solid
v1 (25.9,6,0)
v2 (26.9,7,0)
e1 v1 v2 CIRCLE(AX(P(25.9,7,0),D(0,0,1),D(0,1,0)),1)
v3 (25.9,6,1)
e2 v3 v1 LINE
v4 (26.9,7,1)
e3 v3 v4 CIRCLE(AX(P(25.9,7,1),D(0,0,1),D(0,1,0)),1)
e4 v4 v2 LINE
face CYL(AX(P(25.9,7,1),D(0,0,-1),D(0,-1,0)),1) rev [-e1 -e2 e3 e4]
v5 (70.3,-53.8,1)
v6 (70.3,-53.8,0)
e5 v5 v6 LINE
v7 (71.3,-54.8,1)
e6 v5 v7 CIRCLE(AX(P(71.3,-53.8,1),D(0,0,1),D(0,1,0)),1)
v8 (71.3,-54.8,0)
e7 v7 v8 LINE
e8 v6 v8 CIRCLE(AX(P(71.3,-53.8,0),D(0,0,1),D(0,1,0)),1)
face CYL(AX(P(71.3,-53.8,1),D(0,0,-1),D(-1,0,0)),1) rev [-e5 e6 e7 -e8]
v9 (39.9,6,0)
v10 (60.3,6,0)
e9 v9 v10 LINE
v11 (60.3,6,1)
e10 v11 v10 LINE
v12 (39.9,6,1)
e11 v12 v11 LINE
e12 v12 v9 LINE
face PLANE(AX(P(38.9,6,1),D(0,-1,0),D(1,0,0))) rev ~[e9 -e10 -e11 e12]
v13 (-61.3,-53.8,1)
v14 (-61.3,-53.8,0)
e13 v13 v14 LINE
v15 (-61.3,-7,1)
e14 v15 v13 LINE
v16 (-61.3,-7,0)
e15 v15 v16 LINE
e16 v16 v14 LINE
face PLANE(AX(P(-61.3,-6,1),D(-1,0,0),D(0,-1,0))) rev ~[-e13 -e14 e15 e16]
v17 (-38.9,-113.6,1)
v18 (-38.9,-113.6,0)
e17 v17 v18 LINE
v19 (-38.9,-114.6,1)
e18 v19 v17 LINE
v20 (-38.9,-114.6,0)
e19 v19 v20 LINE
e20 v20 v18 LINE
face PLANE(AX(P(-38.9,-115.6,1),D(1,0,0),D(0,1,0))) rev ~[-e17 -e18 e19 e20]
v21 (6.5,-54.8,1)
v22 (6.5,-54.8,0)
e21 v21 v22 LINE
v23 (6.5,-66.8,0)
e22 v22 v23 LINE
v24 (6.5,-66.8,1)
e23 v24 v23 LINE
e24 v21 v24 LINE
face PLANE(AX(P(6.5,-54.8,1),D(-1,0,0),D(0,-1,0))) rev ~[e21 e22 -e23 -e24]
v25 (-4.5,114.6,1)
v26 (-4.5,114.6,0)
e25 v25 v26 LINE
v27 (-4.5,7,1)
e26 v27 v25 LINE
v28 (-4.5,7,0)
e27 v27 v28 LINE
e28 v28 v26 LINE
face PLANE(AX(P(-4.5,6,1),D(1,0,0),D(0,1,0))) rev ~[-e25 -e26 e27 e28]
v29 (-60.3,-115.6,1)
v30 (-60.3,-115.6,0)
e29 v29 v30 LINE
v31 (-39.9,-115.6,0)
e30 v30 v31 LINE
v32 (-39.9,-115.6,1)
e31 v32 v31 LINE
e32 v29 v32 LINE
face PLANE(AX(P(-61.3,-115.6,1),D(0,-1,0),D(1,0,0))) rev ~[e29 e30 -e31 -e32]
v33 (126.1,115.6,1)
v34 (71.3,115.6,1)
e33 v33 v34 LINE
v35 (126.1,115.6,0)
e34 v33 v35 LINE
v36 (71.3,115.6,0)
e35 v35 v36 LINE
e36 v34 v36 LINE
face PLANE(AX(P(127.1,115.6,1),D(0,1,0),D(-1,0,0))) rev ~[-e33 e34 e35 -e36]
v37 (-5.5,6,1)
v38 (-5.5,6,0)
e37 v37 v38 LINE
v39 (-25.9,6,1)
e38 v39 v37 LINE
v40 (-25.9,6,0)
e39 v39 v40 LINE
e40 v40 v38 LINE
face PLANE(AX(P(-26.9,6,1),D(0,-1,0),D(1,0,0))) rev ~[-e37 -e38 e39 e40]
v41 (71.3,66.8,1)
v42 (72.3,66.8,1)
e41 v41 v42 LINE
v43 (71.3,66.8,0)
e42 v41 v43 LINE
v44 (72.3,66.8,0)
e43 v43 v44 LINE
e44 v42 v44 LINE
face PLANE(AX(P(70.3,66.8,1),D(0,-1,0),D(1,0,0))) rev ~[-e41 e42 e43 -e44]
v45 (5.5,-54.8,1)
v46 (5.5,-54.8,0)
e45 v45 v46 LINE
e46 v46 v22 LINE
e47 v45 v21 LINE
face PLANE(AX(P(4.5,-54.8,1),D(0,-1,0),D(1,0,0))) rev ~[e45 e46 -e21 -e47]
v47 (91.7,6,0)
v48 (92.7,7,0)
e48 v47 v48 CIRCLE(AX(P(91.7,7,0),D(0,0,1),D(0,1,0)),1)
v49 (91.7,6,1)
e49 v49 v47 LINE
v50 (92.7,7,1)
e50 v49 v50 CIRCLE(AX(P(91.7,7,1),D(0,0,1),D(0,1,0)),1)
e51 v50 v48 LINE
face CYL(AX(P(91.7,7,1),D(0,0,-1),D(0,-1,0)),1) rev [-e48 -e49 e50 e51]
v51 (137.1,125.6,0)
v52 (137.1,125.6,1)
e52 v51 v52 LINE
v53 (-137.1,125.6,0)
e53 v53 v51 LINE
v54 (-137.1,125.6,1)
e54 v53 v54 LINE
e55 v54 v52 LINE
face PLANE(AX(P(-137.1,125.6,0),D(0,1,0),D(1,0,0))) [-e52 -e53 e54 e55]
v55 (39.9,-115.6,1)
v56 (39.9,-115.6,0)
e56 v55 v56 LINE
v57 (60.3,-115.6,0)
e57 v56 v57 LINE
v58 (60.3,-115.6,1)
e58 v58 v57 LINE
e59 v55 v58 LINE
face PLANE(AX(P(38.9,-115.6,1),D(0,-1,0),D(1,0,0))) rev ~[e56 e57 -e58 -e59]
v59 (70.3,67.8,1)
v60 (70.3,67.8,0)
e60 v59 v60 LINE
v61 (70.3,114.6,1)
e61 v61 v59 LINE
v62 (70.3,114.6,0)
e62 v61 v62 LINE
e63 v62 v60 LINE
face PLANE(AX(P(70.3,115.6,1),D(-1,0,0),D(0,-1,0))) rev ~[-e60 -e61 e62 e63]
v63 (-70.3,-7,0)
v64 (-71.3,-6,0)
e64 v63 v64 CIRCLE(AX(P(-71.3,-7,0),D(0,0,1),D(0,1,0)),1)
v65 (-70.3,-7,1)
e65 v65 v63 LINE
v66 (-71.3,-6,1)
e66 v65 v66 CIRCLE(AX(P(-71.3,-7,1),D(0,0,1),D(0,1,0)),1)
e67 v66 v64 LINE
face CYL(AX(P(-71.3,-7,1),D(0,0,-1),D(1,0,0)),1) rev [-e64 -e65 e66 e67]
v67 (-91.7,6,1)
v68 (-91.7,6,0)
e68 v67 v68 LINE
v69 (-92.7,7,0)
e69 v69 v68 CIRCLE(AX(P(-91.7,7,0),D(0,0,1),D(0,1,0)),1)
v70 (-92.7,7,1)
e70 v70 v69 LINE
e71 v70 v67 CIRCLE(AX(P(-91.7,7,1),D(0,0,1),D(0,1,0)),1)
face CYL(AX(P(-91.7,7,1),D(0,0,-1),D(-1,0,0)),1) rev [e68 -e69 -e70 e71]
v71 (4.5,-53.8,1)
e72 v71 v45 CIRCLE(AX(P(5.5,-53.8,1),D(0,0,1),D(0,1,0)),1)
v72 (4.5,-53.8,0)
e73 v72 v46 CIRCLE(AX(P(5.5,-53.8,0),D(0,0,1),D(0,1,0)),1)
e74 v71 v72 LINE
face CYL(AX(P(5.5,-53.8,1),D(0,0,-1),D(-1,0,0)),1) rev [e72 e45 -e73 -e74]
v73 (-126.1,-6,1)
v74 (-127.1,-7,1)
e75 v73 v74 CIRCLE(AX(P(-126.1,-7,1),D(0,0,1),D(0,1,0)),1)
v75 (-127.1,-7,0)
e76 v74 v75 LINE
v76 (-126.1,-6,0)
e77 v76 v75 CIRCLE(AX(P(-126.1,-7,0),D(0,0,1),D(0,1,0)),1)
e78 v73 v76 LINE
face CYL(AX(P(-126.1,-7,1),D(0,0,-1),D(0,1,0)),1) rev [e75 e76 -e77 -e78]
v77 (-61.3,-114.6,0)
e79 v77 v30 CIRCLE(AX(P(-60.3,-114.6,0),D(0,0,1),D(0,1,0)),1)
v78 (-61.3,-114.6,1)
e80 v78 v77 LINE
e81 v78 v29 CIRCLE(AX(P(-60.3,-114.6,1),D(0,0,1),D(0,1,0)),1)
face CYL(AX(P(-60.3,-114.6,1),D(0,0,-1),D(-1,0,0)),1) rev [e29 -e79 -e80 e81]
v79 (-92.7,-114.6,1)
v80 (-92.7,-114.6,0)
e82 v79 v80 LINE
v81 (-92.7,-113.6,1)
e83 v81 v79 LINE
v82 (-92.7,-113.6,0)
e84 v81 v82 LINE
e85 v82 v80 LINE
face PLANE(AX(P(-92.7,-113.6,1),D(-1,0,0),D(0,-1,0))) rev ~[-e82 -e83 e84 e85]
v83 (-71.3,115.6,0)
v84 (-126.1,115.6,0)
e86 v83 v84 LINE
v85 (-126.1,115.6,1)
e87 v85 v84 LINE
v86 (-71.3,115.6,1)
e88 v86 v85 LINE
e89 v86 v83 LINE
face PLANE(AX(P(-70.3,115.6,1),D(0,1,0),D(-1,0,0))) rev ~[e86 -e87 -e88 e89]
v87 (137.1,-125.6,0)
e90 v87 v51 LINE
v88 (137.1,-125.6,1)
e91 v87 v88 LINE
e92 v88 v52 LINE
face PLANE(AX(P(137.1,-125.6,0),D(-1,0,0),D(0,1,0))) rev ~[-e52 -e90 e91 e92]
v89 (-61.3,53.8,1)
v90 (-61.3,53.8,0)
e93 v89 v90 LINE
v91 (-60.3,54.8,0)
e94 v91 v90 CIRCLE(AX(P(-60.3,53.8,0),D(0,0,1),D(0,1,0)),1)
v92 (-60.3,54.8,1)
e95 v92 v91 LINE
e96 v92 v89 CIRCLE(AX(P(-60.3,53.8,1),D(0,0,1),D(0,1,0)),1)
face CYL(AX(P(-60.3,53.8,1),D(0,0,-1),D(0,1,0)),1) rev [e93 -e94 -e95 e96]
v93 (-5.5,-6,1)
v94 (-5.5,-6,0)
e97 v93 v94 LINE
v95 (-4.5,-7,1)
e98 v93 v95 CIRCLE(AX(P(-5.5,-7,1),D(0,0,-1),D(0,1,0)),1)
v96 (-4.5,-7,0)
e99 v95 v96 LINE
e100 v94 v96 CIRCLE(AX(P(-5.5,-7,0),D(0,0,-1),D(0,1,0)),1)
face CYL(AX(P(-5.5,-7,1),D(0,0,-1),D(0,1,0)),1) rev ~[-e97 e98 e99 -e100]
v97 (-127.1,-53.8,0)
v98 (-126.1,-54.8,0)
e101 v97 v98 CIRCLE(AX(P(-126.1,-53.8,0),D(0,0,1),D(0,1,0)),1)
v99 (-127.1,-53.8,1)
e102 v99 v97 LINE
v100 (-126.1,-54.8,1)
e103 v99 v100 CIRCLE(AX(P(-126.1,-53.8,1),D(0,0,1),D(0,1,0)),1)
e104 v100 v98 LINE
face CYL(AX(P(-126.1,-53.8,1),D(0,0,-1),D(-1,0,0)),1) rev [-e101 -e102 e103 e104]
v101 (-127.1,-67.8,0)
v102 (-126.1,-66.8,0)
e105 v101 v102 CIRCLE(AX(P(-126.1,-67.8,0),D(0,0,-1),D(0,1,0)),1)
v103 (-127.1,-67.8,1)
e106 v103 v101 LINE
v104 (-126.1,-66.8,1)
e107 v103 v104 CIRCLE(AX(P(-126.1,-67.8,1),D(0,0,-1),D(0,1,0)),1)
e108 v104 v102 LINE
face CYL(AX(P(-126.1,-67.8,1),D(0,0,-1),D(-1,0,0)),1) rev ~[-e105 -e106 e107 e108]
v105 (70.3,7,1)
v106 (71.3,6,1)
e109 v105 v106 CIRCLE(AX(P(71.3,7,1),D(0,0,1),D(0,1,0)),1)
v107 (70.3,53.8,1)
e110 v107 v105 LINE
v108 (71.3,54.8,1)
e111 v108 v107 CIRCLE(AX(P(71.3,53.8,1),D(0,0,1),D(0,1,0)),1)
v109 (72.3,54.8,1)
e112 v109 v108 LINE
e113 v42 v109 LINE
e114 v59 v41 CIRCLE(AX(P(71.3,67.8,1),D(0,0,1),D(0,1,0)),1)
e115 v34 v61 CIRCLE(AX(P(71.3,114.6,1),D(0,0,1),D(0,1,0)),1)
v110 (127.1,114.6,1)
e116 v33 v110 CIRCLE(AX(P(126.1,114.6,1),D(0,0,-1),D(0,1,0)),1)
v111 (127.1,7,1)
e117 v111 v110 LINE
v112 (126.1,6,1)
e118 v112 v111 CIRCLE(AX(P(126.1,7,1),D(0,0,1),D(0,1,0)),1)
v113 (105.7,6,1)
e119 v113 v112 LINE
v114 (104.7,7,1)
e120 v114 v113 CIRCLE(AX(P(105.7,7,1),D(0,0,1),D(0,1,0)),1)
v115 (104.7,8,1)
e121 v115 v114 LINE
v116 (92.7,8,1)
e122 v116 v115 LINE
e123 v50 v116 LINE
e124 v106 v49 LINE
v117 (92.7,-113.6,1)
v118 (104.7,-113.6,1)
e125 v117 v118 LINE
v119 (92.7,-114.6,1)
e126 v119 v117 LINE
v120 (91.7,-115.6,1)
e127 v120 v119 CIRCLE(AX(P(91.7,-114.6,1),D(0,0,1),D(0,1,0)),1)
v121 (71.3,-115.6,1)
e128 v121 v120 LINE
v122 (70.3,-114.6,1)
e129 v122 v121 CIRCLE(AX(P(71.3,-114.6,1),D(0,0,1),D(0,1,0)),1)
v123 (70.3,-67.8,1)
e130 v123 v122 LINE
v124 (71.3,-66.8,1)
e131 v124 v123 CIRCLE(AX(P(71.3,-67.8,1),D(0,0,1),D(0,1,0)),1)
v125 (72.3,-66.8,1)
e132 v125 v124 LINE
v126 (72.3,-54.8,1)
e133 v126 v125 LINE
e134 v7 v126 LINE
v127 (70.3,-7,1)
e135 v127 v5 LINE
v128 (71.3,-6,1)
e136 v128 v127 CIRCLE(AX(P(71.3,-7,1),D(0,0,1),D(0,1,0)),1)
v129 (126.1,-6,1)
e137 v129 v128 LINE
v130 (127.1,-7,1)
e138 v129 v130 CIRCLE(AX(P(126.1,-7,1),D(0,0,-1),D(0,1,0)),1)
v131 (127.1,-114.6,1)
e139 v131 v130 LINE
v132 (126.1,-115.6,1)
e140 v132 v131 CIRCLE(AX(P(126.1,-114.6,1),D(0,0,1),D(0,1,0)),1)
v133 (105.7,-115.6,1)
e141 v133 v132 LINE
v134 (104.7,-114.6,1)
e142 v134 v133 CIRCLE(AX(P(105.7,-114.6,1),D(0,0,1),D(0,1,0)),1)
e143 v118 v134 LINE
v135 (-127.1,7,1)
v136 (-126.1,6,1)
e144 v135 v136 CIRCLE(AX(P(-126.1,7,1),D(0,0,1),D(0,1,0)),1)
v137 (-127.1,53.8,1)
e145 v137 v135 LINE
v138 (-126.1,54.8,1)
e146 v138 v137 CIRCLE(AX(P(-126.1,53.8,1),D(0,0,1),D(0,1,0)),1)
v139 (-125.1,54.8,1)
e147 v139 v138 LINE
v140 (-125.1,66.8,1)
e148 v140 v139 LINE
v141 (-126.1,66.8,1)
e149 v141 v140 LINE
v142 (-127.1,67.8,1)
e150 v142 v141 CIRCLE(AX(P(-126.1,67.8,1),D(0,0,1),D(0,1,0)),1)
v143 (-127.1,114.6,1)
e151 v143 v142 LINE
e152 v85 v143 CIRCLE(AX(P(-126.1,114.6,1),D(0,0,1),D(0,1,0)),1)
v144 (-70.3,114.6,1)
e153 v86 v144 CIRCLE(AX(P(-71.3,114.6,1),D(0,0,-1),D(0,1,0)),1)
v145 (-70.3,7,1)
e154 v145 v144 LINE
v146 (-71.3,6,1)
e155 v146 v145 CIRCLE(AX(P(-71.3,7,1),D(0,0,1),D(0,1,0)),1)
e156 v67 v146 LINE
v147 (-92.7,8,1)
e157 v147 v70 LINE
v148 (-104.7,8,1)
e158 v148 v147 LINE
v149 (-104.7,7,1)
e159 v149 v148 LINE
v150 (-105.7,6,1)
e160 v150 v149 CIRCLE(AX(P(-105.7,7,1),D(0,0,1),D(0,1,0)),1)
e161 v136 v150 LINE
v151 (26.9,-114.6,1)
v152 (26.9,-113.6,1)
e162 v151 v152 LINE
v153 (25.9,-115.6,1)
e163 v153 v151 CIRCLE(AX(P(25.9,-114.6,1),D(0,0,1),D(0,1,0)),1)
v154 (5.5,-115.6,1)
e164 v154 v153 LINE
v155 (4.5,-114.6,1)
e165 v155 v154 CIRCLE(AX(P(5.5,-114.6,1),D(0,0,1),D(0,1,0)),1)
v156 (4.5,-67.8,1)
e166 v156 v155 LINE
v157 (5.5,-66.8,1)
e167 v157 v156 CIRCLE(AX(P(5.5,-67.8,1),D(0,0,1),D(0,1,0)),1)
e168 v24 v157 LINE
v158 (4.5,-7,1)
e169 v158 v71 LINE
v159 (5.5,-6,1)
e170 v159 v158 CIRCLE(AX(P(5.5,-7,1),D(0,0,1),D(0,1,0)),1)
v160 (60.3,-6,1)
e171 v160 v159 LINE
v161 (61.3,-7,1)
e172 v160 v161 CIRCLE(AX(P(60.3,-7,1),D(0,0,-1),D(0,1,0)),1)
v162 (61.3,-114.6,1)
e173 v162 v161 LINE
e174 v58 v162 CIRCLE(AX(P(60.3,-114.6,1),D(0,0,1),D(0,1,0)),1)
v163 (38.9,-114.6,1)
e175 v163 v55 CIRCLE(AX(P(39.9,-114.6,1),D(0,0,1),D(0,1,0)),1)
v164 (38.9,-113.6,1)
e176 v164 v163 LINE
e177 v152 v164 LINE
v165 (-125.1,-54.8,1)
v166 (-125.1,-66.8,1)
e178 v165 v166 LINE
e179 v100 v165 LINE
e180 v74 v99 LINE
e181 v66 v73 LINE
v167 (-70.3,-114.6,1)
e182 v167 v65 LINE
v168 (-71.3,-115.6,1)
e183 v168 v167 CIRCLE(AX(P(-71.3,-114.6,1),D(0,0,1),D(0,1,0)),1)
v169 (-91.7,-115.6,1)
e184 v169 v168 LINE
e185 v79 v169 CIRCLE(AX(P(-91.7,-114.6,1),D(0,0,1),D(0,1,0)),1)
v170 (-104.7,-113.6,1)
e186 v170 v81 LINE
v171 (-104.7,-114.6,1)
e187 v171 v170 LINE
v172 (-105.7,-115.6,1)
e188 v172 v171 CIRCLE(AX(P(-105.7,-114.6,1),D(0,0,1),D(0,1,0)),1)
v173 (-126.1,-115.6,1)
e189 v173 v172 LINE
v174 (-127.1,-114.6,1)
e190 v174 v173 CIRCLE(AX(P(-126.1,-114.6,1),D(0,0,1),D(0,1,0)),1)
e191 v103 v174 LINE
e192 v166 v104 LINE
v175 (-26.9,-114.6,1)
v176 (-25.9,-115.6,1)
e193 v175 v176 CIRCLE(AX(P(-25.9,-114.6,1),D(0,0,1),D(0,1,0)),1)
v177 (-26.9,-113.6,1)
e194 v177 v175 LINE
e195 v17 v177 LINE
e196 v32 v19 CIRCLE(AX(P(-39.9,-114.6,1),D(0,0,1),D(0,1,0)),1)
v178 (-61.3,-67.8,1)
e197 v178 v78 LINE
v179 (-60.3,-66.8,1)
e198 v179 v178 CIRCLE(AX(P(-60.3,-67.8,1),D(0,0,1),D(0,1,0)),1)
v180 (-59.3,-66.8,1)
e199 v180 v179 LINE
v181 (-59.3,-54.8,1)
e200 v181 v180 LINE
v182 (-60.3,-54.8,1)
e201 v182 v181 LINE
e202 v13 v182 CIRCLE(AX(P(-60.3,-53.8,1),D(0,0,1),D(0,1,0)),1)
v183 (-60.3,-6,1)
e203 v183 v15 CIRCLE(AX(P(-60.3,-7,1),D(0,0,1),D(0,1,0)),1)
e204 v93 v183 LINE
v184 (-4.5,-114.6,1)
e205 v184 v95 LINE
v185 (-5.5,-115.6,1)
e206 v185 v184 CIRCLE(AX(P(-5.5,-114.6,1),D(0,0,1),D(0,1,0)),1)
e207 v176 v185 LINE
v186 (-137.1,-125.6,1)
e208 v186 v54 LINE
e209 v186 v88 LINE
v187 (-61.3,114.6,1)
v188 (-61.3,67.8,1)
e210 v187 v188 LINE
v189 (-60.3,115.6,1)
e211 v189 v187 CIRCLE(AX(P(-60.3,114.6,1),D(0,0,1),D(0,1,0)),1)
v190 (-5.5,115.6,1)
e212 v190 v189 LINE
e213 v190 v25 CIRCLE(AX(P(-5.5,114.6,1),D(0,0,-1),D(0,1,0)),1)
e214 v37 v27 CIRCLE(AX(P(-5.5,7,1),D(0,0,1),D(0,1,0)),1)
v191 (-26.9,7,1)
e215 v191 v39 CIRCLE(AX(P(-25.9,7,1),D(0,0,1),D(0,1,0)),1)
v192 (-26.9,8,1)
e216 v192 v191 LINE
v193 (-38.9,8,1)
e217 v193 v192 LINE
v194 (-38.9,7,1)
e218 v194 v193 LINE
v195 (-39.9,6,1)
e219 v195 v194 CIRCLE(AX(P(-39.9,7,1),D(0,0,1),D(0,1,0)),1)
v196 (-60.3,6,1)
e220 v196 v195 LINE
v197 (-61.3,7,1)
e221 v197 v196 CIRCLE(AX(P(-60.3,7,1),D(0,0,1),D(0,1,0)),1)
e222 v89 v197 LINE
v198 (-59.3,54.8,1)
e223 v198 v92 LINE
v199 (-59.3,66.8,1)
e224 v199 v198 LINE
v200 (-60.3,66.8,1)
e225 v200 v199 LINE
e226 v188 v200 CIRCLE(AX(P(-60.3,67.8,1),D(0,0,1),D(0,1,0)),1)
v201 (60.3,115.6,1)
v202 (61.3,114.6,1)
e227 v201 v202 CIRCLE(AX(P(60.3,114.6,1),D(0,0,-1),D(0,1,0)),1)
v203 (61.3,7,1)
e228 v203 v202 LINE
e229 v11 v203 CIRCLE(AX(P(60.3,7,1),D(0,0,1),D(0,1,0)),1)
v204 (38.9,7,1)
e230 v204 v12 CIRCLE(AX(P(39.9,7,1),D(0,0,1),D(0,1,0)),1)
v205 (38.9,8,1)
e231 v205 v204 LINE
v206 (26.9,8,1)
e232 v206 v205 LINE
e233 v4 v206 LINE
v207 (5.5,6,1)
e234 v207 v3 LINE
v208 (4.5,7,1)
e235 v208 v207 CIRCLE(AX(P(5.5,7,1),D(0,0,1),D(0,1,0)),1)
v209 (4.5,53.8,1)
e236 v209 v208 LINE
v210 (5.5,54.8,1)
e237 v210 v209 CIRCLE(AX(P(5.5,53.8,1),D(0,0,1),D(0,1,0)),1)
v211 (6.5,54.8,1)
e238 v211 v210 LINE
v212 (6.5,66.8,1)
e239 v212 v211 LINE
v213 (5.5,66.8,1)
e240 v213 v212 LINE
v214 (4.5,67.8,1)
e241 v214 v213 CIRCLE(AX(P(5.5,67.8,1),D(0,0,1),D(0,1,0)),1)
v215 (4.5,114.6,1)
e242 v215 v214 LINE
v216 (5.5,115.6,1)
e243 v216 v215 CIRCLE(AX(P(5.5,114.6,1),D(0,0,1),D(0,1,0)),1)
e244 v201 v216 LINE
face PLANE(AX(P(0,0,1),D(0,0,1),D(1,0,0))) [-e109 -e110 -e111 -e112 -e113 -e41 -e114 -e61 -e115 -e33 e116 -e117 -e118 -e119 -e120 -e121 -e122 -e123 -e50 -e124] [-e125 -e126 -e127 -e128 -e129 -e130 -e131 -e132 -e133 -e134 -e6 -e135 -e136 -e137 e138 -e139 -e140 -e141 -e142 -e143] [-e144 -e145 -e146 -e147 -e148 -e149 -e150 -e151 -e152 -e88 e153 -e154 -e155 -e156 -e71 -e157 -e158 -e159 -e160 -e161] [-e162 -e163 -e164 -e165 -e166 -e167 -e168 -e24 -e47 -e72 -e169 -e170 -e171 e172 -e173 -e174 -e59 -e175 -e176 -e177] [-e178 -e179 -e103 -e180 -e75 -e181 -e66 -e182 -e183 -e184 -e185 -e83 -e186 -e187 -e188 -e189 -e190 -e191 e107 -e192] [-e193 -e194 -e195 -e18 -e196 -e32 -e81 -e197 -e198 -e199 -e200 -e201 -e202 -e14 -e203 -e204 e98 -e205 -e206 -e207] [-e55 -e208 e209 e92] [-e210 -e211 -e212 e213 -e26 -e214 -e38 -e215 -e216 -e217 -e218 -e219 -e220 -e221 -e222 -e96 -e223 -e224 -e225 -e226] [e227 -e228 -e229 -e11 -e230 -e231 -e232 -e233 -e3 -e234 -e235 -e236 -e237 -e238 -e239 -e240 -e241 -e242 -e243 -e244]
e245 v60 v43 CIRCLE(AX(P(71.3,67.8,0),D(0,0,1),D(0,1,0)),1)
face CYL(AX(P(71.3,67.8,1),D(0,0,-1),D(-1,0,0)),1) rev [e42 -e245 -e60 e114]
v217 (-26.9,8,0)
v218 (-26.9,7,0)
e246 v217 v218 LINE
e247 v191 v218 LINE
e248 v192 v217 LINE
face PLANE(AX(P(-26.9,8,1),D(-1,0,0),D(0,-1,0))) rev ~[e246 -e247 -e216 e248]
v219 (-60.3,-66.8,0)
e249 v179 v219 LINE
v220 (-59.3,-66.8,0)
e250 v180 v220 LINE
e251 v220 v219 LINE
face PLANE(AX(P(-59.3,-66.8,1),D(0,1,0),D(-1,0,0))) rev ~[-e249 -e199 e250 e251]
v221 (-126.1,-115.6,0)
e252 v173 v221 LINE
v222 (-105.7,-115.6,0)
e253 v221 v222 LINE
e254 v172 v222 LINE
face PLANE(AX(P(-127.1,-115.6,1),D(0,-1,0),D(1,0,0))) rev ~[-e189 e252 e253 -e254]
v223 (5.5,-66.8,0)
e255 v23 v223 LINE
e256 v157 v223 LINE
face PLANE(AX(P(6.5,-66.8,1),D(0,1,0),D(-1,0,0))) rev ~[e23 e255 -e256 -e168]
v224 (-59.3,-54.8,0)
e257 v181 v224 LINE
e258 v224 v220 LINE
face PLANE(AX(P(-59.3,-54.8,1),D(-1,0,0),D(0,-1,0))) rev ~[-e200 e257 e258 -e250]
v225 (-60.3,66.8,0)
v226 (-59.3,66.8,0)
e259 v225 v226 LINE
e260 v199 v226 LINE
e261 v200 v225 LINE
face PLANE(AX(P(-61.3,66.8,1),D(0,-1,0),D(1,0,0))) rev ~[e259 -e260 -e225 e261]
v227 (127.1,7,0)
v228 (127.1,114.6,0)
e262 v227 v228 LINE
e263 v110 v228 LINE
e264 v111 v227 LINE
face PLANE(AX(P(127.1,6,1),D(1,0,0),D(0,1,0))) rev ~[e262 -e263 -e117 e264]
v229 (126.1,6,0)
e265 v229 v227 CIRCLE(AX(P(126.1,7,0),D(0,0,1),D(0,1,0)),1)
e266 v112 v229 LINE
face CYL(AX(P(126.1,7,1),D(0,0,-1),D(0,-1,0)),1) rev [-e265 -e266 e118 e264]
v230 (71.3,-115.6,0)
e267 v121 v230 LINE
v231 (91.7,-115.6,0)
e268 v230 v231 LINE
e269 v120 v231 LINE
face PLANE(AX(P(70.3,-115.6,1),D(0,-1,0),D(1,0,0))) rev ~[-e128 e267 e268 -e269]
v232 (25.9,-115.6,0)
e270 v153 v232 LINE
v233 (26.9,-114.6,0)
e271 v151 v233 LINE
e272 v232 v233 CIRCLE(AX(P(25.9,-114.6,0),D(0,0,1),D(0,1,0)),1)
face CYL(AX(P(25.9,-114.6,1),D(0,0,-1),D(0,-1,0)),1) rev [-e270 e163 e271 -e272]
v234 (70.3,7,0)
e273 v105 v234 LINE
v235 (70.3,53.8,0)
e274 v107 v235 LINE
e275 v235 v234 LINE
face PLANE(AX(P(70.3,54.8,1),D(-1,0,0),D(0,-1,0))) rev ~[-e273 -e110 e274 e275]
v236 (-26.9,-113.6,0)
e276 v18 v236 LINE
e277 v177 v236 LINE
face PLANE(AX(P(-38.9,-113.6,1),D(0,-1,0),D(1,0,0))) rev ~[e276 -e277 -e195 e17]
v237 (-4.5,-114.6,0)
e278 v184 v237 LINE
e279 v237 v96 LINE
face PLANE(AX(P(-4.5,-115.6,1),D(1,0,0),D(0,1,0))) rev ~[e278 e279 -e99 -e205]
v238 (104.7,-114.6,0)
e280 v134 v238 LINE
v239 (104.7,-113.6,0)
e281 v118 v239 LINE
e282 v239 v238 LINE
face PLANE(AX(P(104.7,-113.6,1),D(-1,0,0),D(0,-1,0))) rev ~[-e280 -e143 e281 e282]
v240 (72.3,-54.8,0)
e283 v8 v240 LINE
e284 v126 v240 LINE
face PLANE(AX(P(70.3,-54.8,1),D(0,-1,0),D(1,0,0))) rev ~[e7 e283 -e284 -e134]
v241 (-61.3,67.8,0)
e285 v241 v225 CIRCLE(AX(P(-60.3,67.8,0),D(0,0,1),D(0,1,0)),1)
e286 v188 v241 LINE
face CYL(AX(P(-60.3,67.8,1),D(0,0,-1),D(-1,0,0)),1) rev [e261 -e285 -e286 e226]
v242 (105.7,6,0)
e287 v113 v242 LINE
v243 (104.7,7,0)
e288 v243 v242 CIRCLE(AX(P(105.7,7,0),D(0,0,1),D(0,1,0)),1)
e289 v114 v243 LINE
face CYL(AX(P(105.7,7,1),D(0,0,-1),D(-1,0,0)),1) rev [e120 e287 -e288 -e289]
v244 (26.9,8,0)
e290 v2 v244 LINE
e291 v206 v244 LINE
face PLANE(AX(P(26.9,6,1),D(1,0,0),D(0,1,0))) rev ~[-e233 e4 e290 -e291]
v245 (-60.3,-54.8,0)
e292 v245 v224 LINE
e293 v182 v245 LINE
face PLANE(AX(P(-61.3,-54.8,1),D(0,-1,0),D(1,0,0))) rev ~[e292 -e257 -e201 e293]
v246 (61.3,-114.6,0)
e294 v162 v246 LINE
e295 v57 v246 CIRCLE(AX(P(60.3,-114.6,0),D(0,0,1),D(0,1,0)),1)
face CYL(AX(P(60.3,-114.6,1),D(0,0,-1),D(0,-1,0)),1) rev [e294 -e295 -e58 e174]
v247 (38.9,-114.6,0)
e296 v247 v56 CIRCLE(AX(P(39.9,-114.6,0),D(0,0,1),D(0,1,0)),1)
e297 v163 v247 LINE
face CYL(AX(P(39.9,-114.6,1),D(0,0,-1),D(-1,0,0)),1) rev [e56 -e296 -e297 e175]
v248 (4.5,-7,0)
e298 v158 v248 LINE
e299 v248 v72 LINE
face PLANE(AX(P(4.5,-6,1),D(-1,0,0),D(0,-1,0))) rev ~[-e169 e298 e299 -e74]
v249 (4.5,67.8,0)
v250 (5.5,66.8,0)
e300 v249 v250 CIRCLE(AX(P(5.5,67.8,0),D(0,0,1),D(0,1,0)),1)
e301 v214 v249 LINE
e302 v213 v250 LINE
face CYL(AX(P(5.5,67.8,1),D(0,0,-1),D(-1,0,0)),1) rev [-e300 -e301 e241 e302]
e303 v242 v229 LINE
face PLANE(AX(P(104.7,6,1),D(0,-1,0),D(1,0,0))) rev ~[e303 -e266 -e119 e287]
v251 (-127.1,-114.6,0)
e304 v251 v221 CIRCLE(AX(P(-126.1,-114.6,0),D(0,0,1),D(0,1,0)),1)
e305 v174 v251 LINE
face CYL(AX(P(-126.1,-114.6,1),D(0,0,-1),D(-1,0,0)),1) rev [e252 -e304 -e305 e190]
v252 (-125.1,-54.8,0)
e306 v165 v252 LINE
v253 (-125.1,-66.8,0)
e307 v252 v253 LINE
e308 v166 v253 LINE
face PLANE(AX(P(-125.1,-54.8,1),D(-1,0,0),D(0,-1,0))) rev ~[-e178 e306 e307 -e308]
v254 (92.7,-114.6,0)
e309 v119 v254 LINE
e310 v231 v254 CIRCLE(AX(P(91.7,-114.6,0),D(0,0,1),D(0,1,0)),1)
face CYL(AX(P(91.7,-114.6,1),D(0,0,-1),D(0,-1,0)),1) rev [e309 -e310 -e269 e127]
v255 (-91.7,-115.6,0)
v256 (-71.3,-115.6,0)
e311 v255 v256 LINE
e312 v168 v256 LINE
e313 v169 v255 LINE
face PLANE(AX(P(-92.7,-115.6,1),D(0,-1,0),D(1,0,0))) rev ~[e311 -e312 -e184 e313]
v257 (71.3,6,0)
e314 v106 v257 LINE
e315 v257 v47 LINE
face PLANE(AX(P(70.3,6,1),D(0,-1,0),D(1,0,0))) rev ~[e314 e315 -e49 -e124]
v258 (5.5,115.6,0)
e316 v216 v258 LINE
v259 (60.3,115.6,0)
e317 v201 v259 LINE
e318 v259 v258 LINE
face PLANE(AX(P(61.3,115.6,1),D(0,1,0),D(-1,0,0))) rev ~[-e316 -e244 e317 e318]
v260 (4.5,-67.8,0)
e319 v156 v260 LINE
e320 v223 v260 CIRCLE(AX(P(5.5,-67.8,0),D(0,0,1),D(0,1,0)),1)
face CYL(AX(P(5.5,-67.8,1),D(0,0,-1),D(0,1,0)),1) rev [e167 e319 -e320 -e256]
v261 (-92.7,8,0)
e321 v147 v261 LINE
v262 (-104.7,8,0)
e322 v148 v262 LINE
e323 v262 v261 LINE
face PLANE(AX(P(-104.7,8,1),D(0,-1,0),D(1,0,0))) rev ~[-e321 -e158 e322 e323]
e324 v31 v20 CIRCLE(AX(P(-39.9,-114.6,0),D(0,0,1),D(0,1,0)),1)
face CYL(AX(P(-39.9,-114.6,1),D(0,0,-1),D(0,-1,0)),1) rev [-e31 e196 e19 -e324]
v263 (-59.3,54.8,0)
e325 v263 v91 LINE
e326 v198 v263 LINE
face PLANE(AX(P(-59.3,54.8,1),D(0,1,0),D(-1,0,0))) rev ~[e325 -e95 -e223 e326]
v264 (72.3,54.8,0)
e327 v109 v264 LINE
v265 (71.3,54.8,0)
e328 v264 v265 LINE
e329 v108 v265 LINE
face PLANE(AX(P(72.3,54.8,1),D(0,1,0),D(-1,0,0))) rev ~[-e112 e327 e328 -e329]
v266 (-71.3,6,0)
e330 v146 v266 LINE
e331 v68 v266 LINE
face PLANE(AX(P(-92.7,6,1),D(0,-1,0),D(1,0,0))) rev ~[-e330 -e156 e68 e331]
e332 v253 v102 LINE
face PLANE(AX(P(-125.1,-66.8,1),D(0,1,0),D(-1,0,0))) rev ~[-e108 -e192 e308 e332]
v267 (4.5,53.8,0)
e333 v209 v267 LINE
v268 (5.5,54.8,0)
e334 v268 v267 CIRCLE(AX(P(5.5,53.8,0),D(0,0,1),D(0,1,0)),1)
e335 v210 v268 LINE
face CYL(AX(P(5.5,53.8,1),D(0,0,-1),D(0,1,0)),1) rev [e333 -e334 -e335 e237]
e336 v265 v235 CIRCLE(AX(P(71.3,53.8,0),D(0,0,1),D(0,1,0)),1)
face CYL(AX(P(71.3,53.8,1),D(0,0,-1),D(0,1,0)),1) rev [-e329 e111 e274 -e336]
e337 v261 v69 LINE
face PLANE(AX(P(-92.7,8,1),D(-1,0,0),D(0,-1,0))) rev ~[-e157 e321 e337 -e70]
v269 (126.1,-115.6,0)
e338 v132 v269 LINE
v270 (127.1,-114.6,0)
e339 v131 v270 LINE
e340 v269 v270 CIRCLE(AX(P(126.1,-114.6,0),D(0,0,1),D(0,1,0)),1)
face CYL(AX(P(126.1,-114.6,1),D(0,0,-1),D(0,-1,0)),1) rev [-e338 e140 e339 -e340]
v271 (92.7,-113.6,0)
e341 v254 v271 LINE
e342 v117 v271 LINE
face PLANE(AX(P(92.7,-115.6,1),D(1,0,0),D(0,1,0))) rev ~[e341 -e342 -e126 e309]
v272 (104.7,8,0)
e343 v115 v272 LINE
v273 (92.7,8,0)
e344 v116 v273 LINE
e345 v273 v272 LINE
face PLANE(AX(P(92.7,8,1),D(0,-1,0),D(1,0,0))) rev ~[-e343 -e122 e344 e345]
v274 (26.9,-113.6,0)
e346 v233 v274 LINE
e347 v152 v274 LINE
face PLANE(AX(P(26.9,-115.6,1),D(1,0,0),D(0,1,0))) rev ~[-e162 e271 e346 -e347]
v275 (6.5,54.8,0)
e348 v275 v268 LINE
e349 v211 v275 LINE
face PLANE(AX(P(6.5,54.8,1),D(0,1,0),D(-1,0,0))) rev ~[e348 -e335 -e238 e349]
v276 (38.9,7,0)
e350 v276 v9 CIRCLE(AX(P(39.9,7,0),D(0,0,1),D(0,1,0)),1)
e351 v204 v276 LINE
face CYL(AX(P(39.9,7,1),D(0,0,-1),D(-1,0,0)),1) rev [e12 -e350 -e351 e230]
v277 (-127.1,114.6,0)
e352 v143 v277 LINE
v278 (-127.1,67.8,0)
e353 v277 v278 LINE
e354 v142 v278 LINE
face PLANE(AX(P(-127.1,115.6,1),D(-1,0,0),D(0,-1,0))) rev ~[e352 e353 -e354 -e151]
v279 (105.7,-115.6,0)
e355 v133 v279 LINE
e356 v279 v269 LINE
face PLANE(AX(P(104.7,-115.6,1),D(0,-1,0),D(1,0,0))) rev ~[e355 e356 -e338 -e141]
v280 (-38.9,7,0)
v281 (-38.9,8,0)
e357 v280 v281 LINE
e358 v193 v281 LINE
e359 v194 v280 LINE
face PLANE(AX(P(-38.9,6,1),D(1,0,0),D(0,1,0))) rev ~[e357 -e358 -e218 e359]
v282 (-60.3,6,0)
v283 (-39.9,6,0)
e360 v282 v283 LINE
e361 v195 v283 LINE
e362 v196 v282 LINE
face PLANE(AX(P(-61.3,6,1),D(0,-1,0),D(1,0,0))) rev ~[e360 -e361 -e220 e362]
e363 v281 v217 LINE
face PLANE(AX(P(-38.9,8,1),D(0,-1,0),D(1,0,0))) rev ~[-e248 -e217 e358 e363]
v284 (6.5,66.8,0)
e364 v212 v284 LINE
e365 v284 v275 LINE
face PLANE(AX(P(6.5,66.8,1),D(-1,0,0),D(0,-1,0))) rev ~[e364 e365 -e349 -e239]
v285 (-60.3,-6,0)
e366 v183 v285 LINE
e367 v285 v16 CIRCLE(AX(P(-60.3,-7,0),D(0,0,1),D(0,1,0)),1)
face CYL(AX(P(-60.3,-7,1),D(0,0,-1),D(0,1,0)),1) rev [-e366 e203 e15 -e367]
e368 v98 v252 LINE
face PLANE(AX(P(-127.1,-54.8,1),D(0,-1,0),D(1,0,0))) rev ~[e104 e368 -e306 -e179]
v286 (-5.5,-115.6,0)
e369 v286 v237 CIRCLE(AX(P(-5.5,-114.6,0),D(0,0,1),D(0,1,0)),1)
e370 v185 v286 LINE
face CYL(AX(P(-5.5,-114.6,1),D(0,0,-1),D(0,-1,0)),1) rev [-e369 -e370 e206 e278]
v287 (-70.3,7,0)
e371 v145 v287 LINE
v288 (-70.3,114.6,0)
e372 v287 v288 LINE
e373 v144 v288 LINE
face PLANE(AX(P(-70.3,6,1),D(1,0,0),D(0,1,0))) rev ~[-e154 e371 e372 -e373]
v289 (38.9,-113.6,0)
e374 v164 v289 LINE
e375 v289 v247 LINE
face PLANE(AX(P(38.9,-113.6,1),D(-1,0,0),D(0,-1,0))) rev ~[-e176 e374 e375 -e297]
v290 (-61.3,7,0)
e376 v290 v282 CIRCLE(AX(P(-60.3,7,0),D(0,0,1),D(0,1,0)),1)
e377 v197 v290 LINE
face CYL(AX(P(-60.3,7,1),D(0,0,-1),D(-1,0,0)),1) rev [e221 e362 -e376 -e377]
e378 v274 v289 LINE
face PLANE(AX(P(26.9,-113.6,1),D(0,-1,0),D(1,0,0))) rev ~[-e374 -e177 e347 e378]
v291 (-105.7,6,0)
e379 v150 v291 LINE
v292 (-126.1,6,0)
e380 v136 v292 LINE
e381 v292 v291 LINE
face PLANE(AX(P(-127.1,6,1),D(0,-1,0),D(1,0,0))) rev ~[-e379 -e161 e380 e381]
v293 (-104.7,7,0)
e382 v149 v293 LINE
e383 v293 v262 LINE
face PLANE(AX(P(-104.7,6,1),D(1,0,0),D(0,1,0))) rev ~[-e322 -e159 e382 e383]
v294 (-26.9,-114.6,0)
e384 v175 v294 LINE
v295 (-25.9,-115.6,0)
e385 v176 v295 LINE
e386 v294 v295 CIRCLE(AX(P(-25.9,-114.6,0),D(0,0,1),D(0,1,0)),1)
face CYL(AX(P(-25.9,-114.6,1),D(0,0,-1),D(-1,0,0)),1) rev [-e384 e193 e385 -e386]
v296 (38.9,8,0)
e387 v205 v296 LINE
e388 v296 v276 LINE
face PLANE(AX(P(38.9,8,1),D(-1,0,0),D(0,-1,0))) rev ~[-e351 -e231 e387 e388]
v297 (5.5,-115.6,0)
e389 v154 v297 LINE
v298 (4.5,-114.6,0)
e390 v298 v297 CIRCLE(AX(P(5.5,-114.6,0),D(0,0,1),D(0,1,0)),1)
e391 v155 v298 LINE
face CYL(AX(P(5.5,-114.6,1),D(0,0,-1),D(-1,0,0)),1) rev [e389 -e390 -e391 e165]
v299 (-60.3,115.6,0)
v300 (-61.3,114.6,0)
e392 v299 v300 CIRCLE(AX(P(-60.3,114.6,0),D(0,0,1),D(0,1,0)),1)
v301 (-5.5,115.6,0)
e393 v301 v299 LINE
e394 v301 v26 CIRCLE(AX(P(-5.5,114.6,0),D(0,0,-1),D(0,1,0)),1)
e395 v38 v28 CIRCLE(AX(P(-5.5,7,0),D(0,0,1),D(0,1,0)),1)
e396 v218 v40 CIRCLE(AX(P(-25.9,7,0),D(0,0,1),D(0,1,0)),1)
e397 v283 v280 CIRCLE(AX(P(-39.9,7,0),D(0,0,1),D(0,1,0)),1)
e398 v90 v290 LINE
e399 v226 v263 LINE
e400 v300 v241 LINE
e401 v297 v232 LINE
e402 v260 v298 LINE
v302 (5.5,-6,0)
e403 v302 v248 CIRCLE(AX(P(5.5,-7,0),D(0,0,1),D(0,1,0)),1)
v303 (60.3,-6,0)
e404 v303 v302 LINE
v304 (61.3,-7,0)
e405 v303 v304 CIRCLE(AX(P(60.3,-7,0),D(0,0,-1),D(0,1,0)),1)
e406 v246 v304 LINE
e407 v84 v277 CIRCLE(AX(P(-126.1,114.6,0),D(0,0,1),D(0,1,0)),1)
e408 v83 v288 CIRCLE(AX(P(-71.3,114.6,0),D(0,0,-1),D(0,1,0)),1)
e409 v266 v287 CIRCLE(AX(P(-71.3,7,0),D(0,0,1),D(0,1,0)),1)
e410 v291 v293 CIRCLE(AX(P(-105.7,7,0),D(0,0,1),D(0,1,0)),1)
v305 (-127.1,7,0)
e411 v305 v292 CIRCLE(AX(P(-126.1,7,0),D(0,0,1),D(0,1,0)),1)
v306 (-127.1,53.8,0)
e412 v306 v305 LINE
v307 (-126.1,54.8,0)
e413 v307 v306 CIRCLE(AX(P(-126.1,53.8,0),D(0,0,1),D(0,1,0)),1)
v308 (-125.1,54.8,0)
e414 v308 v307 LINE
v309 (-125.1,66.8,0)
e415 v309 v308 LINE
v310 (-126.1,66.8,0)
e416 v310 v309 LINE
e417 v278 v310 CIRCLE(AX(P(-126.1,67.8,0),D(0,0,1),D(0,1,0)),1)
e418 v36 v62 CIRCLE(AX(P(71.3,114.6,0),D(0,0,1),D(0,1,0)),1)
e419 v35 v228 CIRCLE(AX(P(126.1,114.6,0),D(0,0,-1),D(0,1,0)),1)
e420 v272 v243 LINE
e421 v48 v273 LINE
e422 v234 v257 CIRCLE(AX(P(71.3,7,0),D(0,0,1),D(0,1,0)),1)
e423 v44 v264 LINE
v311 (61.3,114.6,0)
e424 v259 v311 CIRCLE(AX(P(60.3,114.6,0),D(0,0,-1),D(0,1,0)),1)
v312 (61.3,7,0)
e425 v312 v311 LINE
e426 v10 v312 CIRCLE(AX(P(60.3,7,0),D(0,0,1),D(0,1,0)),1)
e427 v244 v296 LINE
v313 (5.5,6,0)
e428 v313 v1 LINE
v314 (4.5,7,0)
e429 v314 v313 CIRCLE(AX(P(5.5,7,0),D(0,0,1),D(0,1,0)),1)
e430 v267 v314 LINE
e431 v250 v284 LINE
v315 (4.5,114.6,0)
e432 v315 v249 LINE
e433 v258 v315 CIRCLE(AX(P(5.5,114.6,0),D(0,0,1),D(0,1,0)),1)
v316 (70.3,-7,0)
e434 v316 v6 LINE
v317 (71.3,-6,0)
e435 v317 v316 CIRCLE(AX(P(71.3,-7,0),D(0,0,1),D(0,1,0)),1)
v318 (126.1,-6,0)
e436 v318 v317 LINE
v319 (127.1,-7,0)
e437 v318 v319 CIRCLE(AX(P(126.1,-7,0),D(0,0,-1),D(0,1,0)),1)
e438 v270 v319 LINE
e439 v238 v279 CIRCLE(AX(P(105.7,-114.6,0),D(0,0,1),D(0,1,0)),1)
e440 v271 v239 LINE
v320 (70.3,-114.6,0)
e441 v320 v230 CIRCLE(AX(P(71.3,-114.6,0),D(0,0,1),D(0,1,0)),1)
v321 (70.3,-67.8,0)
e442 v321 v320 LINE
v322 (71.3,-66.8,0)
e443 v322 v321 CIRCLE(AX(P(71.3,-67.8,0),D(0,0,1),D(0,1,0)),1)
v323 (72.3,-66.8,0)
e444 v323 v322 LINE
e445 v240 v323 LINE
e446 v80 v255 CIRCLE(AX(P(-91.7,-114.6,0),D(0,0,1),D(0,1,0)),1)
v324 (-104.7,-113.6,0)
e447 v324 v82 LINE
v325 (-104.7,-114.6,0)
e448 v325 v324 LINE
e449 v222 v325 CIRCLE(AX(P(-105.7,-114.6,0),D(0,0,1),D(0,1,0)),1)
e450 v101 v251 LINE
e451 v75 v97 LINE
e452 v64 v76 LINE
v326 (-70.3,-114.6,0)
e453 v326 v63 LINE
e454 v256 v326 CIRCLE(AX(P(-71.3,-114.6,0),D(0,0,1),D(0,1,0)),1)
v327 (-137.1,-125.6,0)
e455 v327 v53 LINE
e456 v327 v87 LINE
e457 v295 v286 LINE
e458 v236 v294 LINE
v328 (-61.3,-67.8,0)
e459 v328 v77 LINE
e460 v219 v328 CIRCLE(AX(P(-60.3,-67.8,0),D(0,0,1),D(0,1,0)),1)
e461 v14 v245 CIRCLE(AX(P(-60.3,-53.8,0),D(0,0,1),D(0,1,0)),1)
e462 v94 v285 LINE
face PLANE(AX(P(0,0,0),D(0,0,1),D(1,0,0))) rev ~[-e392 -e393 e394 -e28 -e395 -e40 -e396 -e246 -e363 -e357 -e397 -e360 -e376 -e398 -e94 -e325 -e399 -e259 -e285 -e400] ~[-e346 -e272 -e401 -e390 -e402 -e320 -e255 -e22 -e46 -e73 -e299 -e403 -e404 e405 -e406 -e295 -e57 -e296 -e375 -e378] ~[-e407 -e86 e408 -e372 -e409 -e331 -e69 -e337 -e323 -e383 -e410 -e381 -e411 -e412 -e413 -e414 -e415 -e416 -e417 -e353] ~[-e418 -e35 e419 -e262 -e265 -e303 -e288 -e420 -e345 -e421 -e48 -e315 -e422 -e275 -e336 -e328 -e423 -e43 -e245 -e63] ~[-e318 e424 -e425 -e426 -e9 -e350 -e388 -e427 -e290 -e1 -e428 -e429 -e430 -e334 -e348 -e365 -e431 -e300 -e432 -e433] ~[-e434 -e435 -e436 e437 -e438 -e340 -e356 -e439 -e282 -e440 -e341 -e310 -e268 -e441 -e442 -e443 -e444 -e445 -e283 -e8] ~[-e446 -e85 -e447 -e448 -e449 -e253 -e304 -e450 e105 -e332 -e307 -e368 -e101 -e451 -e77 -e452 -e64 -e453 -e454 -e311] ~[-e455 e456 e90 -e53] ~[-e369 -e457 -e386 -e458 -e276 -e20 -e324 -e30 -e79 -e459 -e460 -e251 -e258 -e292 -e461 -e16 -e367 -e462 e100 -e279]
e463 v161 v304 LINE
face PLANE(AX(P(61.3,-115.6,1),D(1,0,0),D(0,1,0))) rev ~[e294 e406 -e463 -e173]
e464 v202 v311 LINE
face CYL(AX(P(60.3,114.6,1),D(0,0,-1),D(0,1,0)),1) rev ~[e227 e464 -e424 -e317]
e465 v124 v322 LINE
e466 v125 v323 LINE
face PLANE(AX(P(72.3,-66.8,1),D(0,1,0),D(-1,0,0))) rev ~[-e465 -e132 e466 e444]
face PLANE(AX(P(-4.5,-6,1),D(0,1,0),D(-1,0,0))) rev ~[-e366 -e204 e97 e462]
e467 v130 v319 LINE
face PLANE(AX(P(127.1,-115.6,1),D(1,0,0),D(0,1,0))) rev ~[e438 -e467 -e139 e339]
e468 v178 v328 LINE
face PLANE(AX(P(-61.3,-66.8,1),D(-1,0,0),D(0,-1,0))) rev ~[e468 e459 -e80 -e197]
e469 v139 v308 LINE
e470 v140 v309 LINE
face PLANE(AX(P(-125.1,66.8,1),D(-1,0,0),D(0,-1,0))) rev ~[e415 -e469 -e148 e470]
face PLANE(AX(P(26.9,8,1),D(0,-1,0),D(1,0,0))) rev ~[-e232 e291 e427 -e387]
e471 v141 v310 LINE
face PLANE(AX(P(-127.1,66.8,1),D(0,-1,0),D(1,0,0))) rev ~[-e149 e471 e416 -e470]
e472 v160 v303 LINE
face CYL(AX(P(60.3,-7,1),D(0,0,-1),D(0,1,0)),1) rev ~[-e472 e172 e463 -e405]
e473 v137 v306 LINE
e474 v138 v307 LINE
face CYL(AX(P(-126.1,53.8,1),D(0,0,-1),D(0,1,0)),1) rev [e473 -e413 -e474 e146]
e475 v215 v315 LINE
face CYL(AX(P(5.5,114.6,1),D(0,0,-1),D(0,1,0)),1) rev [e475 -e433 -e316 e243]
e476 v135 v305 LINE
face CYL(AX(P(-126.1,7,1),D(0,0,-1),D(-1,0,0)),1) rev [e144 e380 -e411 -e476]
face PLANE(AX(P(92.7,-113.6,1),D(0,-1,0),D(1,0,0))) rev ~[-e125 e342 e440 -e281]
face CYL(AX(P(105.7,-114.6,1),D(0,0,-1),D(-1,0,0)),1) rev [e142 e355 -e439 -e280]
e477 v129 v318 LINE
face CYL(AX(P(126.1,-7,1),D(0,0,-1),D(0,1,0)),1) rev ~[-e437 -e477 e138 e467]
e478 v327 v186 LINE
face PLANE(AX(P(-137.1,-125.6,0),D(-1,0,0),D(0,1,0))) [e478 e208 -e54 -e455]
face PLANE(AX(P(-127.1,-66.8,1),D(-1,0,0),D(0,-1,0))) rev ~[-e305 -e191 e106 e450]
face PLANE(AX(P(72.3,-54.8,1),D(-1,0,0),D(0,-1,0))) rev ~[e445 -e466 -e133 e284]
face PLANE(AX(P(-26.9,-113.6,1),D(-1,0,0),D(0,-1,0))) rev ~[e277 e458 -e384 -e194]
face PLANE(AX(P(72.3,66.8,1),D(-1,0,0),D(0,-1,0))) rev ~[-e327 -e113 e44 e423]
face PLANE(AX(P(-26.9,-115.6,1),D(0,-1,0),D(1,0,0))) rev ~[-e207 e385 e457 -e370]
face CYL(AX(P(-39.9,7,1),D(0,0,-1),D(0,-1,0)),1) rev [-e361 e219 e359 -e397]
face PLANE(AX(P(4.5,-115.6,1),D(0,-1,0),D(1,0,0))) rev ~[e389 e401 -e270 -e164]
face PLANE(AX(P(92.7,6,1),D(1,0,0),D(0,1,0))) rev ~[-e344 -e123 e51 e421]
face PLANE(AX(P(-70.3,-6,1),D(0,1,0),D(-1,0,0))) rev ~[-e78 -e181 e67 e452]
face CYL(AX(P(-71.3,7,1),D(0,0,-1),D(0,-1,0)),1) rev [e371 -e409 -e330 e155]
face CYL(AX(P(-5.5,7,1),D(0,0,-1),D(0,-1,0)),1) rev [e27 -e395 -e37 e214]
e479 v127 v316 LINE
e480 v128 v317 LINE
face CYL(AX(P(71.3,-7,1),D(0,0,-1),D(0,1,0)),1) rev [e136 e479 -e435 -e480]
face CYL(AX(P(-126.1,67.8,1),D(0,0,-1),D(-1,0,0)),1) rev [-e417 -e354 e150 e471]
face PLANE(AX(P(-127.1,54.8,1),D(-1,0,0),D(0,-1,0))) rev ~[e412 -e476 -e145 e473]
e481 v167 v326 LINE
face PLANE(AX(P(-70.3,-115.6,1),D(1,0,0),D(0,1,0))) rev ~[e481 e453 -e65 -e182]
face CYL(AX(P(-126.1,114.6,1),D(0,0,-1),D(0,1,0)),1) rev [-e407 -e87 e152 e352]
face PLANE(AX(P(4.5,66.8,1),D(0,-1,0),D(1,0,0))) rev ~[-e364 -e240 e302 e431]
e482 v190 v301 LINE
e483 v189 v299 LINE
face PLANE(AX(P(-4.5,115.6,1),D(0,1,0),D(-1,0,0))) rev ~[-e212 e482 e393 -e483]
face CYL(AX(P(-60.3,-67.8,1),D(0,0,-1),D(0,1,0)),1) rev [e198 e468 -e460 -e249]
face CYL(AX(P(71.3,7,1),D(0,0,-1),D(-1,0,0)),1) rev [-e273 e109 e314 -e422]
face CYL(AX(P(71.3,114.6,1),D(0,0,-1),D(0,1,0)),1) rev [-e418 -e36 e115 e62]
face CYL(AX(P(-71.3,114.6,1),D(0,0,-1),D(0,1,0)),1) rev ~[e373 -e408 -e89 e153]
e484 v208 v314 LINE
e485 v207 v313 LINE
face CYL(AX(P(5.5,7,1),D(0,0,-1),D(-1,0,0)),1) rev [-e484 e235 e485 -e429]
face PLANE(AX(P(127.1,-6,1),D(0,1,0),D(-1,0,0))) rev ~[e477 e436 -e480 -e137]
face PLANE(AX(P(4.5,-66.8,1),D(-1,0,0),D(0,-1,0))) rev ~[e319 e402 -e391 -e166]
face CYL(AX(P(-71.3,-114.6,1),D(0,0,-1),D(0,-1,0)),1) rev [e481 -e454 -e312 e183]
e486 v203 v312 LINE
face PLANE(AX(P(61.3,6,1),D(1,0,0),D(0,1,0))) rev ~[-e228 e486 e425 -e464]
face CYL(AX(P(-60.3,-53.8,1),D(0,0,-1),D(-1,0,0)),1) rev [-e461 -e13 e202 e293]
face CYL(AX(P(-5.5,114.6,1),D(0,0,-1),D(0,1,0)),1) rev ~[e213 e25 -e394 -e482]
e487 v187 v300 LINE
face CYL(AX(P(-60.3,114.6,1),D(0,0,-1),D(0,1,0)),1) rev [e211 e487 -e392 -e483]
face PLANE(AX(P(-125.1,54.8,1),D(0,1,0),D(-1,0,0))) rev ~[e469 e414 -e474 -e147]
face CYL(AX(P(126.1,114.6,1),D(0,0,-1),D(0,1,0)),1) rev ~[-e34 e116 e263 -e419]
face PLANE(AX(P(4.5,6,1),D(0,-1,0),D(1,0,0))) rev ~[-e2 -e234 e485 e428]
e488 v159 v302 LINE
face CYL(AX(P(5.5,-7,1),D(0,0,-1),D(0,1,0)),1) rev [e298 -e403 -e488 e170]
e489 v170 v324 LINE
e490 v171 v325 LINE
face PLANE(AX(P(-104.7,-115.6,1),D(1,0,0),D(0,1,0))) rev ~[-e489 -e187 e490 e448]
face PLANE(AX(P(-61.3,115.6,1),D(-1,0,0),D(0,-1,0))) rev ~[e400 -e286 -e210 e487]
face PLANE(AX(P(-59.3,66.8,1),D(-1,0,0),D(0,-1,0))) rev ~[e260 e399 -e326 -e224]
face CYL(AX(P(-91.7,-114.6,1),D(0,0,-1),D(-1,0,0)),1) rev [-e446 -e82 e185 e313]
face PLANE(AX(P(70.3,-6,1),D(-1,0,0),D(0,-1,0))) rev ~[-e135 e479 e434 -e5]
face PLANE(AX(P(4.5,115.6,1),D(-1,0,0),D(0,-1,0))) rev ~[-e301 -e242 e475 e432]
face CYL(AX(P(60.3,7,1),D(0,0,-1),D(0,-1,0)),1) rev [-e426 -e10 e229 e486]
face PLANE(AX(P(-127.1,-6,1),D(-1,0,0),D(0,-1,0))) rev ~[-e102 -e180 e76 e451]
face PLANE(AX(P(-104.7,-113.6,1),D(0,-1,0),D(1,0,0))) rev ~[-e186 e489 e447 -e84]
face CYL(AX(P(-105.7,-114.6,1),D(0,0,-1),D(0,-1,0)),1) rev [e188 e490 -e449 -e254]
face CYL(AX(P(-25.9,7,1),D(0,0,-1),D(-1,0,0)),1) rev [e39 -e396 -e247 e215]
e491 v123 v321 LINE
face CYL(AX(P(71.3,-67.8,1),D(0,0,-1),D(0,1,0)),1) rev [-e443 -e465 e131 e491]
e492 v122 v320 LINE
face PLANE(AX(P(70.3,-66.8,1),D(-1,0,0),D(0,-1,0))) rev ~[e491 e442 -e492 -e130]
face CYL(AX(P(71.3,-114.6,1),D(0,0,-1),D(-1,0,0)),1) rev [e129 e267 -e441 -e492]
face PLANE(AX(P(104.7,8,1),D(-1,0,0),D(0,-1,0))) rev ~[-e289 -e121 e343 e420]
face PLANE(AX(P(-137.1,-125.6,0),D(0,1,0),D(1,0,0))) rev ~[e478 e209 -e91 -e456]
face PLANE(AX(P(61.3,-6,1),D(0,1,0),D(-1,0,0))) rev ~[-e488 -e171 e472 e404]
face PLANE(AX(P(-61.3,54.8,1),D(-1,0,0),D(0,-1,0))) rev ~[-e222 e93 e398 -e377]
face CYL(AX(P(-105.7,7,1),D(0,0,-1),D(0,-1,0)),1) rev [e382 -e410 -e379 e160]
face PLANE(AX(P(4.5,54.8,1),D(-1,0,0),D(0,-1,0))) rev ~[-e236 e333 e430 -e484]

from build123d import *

# Parameters (mm, degrees)
F0_W     = 274.2
F0_H     = 251.2
F1_DEPTH = 1
F3_DEPTH = 1.001
F4_R     = 1


with BuildPart() as f1:
    # F0 (on Top) → F1 (new body)
    with BuildSketch(Plane.XY):
        Rectangle(F0_W, F0_H)
    extrude(amount=F1_DEPTH)

    # F2 (on face) → F3 (cut, through all)
    with BuildSketch(Plane.XY.offset(1)):
        Polygon((-127.1, -66.8), (-127.1, -115.6), (-104.7, -115.6), (-104.7, -113.6), (-92.7, -113.6), (-92.7, -115.6), (-70.3, -115.6), (-70.3, -6), (-127.1, -6), (-127.1, -54.8), (-125.1, -54.8), (-125.1, -66.8), align=None)
        Polygon((-4.5, -6), (-61.3, -6), (-61.3, -54.8), (-59.3, -54.8), (-59.3, -66.8), (-61.3, -66.8), (-61.3, -115.6), (-38.9, -115.6), (-38.9, -113.6), (-26.9, -113.6), (-26.9, -115.6), (-4.5, -115.6), align=None)
        Polygon((61.3, -6), (4.5, -6), (4.5, -54.8), (6.5, -54.8), (6.5, -66.8), (4.5, -66.8), (4.5, -115.6), (26.9, -115.6), (26.9, -113.6), (38.9, -113.6), (38.9, -115.6), (61.3, -115.6), align=None)
        Polygon((127.1, -6), (70.3, -6), (70.3, -54.8), (72.3, -54.8), (72.3, -66.8), (70.3, -66.8), (70.3, -115.6), (92.7, -115.6), (92.7, -113.6), (104.7, -113.6), (104.7, -115.6), (127.1, -115.6), align=None)
        Polygon((127.1, 115.6), (70.3, 115.6), (70.3, 66.8), (72.3, 66.8), (72.3, 54.8), (70.3, 54.8), (70.3, 6), (92.7, 6), (92.7, 8), (104.7, 8), (104.7, 6), (127.1, 6), align=None)
        Polygon((61.3, 115.6), (4.5, 115.6), (4.5, 66.8), (6.5, 66.8), (6.5, 54.8), (4.5, 54.8), (4.5, 6), (26.9, 6), (26.9, 8), (38.9, 8), (38.9, 6), (61.3, 6), align=None)
        Polygon((-4.5, 115.6), (-61.3, 115.6), (-61.3, 66.8), (-59.3, 66.8), (-59.3, 54.8), (-61.3, 54.8), (-61.3, 6), (-38.9, 6), (-38.9, 8), (-26.9, 8), (-26.9, 6), (-4.5, 6), align=None)
        Polygon((-70.3, 115.6), (-127.1, 115.6), (-127.1, 66.8), (-125.1, 66.8), (-125.1, 54.8), (-127.1, 54.8), (-127.1, 6), (-104.7, 6), (-104.7, 8), (-92.7, 8), (-92.7, 6), (-70.3, 6), align=None)
    extrude(amount=-F3_DEPTH, mode=Mode.SUBTRACT)

    # F4
    f4_edges = [f1.edges().sort_by_distance(p)[0] for p in [
        (-127.1, -115.6, 0.5),
        (-104.7, -115.6, 0.5),
        (-92.7, -115.6, 0.5),
        (-70.3, -115.6, 0.5),
        (-70.3, -6, 0.5),
        (-127.1, -6, 0.5),
        (-127.1, -54.8, 0.5),
        (-127.1, -66.8, 0.5),
        (-61.3, -6, 0.5),
        (-4.5, -6, 0.5),
        (-61.3, -54.8, 0.5),
        (-61.3, -66.8, 0.5),
        (-61.3, -115.6, 0.5),
        (-38.9, -115.6, 0.5),
        (-26.9, -115.6, 0.5),
        (-4.5, -115.6, 0.5),
        (4.5, -115.6, 0.5),
        (26.9, -115.6, 0.5),
        (38.9, -115.6, 0.5),
        (61.3, -115.6, 0.5),
        (61.3, -6, 0.5),
        (4.5, -6, 0.5),
        (4.5, -54.8, 0.5),
        (4.5, -66.8, 0.5),
        (70.3, -6, 0.5),
        (70.3, -54.8, 0.5),
        (70.3, -66.8, 0.5),
        (70.3, -115.6, 0.5),
        (92.7, -115.6, 0.5),
        (104.7, -115.6, 0.5),
        (127.1, -115.6, 0.5),
        (127.1, -6, 0.5),
        (-127.1, 6, 0.5),
        (-104.7, 6, 0.5),
        (-92.7, 6, 0.5),
        (-70.3, 6, 0.5),
        (-70.3, 115.6, 0.5),
        (-127.1, 115.6, 0.5),
        (-127.1, 66.8, 0.5),
        (-127.1, 54.8, 0.5),
        (-61.3, 115.6, 0.5),
        (-61.3, 66.8, 0.5),
        (-61.3, 54.8, 0.5),
        (-61.3, 6, 0.5),
        (-38.9, 6, 0.5),
        (-26.9, 6, 0.5),
        (-4.5, 6, 0.5),
        (-4.5, 115.6, 0.5),
        (4.5, 115.6, 0.5),
        (4.5, 66.8, 0.5),
        (4.5, 54.8, 0.5),
        (4.5, 6, 0.5),
        (26.9, 6, 0.5),
        (38.9, 6, 0.5),
        (61.3, 6, 0.5),
        (61.3, 115.6, 0.5),
        (70.3, 115.6, 0.5),
        (70.3, 66.8, 0.5),
        (70.3, 54.8, 0.5),
        (70.3, 6, 0.5),
        (92.7, 6, 0.5),
        (104.7, 6, 0.5),
        (127.1, 6, 0.5),
        (127.1, 115.6, 0.5),
    ]]
    fillet(f4_edges, radius=F4_R)


solid = f1.part
